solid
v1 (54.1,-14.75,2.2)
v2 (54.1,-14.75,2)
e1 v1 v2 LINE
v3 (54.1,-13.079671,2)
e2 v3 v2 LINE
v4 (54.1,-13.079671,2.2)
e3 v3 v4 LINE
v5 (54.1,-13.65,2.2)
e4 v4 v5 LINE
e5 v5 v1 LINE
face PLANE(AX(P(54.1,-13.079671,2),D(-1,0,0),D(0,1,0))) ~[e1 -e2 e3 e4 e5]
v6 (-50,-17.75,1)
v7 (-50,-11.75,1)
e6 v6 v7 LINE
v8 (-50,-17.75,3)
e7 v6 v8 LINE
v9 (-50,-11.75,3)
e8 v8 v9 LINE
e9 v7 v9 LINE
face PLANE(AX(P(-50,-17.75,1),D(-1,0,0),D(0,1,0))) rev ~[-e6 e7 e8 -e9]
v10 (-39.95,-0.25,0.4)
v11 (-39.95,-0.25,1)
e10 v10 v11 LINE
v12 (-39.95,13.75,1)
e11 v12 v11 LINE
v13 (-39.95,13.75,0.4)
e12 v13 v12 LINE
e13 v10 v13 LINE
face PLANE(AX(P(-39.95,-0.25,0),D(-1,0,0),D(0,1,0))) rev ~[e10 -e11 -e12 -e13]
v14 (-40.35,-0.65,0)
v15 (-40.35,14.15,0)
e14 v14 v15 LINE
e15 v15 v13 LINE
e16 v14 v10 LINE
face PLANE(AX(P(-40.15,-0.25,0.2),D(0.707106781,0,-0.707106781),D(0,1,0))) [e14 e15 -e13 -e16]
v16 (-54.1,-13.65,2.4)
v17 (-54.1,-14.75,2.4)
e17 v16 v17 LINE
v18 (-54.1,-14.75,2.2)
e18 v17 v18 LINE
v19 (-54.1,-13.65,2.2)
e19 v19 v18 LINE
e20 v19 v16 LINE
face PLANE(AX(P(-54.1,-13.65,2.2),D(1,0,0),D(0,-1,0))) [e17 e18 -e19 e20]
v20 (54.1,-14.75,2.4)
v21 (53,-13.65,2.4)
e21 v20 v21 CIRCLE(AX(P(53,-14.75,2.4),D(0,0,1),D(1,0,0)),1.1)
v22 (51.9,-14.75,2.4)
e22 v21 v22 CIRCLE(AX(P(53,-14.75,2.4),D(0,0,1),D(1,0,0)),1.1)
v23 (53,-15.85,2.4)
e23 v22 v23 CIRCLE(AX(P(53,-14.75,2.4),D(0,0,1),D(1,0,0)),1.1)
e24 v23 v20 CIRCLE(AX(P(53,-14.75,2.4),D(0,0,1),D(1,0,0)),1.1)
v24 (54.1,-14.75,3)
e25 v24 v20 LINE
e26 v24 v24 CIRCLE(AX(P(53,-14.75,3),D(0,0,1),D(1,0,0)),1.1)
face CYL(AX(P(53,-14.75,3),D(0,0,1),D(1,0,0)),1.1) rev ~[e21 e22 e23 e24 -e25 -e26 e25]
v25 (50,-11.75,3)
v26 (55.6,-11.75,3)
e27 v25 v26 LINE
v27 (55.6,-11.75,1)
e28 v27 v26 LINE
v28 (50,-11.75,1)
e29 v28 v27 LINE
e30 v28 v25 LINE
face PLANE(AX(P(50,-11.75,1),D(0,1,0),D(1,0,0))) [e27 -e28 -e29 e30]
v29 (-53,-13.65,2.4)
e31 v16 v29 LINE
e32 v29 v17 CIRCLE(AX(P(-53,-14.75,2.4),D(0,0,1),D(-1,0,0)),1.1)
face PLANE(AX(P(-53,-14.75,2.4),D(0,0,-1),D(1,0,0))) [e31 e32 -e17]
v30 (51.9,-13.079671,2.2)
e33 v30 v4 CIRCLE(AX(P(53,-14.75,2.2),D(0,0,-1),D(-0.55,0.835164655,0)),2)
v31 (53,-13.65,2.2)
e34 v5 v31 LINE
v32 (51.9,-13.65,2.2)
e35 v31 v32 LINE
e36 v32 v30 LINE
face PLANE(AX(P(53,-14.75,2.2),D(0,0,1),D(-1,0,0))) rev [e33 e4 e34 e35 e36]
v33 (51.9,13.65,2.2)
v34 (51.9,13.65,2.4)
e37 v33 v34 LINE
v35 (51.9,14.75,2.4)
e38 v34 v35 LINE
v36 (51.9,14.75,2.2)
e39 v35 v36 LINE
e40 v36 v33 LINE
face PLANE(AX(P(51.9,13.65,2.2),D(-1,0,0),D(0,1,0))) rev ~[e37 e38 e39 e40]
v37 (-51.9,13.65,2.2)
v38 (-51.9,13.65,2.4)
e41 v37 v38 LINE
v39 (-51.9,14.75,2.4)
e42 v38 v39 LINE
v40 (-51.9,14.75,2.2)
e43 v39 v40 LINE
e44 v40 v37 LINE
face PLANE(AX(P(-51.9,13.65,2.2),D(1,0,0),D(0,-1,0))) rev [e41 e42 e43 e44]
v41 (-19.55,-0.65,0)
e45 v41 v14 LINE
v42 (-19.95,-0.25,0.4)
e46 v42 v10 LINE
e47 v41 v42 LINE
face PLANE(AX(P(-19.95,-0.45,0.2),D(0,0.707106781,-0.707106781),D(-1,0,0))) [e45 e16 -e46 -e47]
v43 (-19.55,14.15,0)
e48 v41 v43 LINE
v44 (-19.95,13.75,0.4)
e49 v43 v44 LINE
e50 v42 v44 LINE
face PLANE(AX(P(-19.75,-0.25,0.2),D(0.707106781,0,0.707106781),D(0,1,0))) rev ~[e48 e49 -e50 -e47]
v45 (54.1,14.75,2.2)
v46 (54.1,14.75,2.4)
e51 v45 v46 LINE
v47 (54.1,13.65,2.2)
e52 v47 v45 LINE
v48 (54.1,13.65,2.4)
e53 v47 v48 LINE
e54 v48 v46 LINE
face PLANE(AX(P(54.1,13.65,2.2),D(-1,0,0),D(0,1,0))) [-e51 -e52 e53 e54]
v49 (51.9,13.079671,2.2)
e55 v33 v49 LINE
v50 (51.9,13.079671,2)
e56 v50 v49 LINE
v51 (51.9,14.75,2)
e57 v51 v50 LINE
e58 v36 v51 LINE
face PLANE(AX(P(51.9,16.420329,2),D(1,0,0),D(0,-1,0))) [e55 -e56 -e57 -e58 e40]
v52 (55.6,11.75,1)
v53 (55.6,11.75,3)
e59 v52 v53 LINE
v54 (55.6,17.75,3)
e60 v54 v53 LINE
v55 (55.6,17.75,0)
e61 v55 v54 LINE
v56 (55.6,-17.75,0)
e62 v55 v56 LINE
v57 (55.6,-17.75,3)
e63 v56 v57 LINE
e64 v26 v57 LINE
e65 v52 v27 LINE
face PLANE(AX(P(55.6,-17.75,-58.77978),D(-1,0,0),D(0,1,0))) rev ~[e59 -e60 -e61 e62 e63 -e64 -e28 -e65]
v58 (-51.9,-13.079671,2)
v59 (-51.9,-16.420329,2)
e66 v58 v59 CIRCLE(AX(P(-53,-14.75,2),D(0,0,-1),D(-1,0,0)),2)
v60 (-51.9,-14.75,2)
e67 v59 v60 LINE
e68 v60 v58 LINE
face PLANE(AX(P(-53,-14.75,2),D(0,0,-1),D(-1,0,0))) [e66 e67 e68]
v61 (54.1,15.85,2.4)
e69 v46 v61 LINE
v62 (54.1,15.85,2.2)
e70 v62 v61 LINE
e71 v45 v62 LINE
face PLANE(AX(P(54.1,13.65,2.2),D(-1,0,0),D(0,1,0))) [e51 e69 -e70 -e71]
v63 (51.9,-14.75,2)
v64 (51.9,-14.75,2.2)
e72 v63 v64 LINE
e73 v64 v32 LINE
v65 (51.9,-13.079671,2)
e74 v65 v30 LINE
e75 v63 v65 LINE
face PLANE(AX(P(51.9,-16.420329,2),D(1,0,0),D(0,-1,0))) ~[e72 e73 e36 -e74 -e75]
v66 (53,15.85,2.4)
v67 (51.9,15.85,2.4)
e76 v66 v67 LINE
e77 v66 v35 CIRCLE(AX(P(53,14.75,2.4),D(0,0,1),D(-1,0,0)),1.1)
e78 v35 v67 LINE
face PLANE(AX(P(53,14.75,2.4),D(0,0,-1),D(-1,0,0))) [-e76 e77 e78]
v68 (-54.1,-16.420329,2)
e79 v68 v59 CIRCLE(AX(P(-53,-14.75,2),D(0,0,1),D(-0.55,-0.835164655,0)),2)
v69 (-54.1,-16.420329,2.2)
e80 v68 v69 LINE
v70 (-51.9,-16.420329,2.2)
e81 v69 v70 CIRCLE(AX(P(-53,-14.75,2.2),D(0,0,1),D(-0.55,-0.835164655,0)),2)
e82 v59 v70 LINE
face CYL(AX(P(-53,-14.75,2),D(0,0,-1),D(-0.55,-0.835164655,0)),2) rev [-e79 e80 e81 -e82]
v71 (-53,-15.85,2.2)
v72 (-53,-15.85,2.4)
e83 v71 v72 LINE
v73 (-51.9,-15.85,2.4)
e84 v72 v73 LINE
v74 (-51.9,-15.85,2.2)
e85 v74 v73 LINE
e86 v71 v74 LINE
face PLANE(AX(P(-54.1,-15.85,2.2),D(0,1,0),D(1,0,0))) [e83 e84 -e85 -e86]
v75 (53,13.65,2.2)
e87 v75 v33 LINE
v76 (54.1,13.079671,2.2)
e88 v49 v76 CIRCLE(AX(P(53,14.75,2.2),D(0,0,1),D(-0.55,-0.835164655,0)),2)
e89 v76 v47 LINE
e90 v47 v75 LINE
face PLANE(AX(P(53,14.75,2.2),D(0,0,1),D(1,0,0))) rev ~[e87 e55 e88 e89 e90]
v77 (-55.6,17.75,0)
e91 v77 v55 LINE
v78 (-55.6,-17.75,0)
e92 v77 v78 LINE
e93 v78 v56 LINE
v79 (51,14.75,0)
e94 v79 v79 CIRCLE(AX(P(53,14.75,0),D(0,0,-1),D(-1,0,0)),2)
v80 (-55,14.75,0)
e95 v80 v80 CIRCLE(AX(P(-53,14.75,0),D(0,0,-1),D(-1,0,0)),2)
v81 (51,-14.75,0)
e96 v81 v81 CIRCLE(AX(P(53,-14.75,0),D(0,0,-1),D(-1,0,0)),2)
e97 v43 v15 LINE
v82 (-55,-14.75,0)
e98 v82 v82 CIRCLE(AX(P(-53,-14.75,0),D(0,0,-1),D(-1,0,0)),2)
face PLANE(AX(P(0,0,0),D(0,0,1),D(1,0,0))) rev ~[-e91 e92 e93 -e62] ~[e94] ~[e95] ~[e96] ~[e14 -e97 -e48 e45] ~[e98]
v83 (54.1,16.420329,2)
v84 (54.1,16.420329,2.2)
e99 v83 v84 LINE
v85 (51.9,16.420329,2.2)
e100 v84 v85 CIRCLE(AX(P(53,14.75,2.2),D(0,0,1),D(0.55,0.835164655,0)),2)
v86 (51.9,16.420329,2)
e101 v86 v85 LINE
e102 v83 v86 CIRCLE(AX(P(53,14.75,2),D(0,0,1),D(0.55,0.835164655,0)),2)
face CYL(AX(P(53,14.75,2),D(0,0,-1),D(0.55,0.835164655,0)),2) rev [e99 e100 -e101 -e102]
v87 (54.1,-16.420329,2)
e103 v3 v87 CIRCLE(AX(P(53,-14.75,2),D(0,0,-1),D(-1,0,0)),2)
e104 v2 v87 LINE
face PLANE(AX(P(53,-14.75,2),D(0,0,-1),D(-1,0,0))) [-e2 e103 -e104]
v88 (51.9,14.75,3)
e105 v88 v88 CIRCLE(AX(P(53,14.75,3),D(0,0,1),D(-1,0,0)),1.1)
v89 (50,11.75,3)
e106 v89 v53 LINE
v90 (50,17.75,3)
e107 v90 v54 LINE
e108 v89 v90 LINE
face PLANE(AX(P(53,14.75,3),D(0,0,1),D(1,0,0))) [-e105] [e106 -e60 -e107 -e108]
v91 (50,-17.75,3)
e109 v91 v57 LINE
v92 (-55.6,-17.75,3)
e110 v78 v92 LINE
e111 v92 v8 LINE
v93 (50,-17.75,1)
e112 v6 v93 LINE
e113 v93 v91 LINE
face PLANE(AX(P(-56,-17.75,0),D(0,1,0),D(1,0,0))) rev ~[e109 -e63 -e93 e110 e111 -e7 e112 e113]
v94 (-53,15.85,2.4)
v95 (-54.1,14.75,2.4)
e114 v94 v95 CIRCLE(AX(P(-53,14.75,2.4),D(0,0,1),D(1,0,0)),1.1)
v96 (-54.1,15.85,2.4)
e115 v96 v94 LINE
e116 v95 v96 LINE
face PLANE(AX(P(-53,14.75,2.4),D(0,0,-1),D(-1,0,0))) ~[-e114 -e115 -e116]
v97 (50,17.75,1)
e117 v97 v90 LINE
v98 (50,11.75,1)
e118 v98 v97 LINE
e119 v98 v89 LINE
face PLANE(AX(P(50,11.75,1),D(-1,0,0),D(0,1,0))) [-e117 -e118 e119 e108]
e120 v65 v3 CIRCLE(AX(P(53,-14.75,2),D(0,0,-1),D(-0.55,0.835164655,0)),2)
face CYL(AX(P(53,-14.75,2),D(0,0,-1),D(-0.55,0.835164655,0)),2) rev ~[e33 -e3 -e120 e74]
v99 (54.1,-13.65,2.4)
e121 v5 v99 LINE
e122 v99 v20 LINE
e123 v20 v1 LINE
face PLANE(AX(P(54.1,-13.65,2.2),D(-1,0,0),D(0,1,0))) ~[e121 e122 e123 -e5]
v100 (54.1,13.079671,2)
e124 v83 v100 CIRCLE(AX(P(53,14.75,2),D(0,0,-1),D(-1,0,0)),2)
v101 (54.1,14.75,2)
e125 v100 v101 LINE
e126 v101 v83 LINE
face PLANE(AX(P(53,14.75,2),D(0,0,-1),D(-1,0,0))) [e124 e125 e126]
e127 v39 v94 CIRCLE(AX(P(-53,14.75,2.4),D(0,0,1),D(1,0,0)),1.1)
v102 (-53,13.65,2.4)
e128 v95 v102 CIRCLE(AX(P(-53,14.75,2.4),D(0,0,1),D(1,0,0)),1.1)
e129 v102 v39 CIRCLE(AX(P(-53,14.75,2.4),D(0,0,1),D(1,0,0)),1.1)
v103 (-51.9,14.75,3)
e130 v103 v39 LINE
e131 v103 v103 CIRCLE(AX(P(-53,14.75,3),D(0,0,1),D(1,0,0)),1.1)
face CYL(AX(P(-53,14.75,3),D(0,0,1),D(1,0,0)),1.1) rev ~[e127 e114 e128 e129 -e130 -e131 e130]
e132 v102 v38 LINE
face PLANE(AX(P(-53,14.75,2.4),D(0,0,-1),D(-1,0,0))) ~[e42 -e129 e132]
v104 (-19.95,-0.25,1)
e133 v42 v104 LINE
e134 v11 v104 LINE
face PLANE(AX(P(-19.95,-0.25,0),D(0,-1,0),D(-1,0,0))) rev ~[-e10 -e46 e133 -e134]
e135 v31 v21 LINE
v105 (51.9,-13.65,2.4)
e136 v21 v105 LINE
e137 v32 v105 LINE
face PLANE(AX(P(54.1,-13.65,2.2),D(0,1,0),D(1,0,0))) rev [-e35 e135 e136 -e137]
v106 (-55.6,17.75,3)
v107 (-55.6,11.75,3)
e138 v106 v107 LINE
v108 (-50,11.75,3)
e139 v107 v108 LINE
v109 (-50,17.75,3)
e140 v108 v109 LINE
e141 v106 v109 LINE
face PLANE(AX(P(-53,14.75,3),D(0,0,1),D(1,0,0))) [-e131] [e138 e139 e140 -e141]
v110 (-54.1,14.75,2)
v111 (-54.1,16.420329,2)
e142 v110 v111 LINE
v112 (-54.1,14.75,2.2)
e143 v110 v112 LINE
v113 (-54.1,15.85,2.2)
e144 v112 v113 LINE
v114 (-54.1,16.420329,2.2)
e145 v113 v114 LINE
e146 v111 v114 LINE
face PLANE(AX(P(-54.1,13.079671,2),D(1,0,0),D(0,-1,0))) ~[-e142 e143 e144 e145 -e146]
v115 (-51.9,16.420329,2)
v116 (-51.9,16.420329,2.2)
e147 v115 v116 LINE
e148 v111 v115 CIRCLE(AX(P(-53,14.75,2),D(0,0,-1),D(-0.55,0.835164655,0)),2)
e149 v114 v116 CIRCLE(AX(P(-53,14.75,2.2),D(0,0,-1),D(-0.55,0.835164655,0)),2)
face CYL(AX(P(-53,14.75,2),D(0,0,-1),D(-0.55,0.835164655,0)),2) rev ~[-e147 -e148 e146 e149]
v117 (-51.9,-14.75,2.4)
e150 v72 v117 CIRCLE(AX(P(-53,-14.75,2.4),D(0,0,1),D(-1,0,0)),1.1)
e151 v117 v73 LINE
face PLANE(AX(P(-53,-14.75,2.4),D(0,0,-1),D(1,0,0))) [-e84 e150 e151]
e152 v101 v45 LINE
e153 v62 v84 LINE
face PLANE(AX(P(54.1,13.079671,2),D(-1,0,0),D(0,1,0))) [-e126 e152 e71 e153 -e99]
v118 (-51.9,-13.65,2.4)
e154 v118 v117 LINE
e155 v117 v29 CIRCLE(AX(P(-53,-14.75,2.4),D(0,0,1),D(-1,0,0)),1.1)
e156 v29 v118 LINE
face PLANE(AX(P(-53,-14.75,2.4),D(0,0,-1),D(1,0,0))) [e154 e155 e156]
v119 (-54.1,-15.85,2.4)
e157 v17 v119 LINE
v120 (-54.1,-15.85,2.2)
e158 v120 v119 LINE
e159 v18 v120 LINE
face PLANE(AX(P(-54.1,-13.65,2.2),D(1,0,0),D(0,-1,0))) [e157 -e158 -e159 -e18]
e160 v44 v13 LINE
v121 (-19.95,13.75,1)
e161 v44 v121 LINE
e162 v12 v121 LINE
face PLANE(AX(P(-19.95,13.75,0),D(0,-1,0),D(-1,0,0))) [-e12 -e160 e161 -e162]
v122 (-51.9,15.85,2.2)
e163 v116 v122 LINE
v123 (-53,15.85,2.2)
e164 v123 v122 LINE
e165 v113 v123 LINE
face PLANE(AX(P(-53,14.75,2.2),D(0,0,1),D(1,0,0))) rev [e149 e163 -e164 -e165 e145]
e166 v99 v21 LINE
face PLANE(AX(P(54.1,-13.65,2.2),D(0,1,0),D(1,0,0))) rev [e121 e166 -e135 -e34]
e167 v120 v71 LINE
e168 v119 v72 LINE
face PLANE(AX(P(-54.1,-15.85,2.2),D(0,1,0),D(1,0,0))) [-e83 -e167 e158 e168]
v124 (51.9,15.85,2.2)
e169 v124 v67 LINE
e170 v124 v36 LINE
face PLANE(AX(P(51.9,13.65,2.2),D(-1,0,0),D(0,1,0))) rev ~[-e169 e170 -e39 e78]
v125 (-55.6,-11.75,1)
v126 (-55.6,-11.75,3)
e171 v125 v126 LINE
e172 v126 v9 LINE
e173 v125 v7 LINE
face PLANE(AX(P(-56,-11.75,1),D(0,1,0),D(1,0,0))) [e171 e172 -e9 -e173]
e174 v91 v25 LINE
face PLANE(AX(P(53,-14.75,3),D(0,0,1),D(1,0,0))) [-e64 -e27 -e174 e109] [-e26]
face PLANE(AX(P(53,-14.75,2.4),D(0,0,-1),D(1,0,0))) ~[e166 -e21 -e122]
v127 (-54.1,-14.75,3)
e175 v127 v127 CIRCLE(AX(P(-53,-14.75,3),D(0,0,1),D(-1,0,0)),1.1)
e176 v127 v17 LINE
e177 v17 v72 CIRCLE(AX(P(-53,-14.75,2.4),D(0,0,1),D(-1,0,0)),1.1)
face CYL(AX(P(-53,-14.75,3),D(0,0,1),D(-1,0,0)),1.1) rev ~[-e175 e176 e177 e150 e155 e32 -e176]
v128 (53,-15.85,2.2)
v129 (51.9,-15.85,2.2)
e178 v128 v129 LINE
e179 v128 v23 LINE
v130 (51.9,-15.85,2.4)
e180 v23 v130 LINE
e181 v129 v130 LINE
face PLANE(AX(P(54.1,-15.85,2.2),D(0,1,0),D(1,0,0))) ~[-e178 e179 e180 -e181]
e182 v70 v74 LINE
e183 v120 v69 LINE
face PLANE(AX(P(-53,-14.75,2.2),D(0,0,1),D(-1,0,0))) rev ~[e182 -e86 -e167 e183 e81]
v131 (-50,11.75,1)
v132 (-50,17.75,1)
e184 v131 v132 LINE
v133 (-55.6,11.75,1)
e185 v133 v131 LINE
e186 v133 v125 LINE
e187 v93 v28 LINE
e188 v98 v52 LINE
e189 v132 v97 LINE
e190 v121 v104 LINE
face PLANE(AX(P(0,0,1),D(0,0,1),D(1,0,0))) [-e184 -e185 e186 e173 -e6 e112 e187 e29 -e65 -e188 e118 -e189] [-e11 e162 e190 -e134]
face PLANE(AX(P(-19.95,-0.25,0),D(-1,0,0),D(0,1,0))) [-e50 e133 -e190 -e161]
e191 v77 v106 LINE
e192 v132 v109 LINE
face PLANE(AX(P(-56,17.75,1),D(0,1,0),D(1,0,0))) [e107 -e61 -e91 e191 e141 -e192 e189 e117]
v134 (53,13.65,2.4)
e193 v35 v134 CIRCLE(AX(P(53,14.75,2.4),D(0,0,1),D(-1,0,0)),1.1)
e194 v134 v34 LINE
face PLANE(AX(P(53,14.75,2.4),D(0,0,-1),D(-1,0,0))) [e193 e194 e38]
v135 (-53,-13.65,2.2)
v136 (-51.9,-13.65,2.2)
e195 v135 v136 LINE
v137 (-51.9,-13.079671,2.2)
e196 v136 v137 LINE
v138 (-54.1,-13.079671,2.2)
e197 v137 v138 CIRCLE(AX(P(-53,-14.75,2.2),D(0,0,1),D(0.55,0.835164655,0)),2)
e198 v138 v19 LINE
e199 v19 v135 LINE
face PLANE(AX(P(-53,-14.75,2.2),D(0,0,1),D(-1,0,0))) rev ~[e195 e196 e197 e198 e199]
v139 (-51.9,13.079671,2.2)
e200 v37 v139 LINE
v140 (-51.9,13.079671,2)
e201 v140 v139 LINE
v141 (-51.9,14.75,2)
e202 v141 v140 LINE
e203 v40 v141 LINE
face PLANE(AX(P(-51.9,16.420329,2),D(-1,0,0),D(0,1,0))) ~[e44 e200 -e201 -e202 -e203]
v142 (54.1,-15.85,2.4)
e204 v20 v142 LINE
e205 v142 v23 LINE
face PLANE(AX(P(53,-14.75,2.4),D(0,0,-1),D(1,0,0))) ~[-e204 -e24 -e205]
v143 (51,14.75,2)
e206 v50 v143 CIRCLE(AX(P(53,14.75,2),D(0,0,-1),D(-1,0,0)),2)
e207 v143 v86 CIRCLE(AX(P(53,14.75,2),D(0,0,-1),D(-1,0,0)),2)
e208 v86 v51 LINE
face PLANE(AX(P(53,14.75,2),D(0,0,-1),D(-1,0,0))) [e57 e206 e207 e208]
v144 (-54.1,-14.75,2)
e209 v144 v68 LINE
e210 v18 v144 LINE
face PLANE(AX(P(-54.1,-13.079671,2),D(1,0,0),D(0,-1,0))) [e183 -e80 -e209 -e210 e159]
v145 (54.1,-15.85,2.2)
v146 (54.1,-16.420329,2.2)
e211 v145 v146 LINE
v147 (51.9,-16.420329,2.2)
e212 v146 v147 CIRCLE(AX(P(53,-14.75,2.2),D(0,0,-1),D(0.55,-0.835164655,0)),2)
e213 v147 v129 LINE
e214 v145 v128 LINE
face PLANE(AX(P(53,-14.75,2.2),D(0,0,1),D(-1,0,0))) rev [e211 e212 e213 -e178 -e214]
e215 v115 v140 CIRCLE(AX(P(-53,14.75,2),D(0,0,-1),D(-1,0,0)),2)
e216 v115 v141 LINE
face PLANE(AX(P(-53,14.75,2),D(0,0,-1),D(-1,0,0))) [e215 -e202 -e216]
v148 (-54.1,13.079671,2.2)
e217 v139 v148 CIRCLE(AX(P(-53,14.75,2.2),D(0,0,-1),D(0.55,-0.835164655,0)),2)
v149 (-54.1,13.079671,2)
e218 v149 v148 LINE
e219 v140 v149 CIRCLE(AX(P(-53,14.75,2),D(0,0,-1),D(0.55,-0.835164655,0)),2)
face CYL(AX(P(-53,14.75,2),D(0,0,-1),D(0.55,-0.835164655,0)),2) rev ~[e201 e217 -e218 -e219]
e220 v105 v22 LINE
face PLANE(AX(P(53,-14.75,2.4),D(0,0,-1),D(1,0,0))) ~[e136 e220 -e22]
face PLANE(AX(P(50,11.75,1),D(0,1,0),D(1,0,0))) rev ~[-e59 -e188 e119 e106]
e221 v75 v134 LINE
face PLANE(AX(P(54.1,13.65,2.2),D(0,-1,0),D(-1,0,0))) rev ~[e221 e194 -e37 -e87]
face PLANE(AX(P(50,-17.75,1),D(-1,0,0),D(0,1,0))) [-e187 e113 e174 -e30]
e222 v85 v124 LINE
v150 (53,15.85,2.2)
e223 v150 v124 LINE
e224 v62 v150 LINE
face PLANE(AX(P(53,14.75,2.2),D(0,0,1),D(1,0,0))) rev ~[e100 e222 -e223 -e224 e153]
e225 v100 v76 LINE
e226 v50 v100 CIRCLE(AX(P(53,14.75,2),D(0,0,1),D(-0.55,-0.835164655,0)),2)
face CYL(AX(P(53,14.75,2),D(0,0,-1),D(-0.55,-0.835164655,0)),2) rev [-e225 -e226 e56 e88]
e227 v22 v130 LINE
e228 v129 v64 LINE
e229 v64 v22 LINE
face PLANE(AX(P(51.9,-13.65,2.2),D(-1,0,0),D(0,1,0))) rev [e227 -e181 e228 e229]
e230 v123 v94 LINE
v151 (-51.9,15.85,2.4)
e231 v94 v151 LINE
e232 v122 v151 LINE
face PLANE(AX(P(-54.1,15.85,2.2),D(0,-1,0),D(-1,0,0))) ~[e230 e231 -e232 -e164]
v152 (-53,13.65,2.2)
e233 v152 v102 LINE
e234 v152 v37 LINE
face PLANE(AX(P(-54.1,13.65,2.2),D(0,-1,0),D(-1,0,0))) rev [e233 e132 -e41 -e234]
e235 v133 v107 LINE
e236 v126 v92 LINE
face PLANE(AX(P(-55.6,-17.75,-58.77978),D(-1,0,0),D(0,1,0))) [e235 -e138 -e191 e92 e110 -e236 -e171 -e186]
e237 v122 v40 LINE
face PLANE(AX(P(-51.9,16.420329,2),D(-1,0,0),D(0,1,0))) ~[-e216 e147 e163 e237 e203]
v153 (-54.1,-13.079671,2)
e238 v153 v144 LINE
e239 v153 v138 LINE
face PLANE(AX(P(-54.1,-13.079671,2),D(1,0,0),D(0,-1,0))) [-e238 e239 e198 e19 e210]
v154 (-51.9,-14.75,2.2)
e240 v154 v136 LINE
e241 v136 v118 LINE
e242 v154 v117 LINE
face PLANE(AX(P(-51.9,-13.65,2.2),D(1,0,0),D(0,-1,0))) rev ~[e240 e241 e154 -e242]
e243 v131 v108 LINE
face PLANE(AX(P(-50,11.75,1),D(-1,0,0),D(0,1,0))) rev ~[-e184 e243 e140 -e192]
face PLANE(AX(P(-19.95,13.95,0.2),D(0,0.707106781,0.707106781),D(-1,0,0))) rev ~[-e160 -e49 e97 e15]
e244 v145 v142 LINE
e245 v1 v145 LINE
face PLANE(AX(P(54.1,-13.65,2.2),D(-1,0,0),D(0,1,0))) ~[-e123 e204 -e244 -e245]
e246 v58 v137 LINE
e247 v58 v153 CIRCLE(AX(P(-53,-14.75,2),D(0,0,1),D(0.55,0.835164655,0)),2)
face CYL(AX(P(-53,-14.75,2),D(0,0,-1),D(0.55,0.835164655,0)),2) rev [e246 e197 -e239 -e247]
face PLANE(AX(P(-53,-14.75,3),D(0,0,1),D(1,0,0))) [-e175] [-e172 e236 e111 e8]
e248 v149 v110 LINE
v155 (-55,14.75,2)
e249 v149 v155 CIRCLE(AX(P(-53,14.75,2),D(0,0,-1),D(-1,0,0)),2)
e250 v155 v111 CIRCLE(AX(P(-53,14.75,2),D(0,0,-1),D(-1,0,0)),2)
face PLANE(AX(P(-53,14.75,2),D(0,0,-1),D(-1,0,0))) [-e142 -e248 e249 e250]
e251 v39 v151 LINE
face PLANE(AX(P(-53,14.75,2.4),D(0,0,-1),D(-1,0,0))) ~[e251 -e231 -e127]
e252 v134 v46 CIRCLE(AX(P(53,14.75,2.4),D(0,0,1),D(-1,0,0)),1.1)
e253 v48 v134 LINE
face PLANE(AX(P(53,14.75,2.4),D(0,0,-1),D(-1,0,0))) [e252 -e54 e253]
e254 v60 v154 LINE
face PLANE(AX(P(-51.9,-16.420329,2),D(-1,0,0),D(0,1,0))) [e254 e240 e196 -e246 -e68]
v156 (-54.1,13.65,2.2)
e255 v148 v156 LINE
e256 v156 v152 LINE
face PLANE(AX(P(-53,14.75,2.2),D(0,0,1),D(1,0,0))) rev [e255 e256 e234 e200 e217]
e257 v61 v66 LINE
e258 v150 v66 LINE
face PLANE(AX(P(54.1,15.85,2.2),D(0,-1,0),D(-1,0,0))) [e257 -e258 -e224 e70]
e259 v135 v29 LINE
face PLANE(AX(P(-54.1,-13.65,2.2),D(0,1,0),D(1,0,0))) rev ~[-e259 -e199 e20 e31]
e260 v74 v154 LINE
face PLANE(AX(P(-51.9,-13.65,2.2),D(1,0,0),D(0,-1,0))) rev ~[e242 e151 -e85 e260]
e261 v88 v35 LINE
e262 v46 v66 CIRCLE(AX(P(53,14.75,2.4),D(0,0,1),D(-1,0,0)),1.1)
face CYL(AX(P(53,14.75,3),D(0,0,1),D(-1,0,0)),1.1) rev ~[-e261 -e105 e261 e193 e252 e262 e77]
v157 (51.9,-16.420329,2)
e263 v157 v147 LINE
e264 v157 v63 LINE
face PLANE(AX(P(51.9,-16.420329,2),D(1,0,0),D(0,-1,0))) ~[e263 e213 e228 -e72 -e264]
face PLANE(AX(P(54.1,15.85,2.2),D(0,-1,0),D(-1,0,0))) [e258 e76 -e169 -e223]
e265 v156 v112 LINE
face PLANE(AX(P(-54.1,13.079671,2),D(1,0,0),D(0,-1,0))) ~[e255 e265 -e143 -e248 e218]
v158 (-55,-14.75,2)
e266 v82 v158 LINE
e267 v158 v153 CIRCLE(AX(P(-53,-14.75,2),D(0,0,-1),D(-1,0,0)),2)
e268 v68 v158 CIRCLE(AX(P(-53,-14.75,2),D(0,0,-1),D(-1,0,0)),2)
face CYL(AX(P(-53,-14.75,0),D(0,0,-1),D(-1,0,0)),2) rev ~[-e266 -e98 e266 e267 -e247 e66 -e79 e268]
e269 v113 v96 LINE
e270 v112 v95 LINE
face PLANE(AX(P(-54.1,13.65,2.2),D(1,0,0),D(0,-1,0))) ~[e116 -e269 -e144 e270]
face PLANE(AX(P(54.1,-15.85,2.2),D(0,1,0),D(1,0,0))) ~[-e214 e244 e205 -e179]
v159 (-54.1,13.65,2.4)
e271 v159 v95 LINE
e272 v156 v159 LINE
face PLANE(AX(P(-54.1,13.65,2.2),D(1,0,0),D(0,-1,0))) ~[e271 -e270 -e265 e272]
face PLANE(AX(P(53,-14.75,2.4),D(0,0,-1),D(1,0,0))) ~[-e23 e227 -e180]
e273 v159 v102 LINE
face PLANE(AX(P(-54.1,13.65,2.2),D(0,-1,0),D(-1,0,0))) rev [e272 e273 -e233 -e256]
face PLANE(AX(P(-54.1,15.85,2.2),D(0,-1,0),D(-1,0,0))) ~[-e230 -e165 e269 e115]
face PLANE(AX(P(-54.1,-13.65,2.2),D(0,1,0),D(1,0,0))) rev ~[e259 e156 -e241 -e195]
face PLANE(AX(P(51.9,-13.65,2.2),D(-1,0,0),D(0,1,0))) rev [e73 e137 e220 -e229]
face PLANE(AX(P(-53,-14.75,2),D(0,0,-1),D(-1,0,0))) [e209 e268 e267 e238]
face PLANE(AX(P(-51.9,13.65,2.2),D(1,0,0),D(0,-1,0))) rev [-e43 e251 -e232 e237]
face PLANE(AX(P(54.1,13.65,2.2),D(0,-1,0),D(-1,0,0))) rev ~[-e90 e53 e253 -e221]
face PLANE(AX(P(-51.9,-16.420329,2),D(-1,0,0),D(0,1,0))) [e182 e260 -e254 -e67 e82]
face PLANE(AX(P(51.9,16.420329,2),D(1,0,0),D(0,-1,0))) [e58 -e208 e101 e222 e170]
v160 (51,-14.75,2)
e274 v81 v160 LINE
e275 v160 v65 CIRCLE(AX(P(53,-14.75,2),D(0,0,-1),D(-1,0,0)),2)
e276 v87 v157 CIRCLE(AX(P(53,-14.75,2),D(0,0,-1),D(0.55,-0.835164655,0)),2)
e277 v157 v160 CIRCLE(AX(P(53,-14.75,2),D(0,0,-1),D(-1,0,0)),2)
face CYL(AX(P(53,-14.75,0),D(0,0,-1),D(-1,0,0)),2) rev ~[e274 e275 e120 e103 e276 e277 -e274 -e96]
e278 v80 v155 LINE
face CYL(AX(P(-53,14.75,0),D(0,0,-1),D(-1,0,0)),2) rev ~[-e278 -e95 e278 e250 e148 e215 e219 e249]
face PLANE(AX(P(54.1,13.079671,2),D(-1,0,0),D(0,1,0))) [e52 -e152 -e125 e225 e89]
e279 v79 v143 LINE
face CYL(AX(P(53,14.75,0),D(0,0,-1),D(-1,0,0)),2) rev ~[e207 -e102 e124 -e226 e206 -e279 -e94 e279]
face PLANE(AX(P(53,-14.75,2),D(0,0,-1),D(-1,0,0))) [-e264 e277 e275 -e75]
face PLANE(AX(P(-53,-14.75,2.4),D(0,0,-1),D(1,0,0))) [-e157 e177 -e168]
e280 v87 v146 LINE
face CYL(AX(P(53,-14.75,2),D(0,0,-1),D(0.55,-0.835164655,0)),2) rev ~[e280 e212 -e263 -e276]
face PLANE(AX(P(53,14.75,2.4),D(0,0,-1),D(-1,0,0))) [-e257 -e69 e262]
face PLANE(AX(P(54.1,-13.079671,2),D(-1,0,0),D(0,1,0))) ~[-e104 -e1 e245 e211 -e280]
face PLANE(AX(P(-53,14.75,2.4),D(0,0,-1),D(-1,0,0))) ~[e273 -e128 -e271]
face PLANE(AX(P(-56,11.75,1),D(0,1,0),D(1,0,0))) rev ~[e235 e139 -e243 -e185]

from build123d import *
from build123d.topology import SkipClean

# Parameters (mm, degrees)
SKETCH1_W               = 112
SKETCH1_H               = 35.5
BOSS_EXTRUDE1_DEPTH     = 1
SKETCH2_W               = 6
SKETCH2_H               = 6
BOSS_EXTRUDE2_DEPTH     = 2
SKETCH3_R               = 1.1
CUT_EXTRUDE1_DEPTH      = 59.822295943
SKETCH4_R               = 2
CUT_EXTRUDE2_DEPTH      = 2
SKETCH5_W               = 20
SKETCH5_H               = 14
CUT_EXTRUDE3_DEPTH      = 59.822295943
CHAMFER1_SIZE           = 0.4
CUT_EXTRUDE4_DEPTH      = 0.2
SKETCH7_W               = 2.2
SKETCH7_H               = 2.2
CUT_EXTRUDE5_DEPTH      = 0.2
MIRROR2_COPY_1_DEPTH    = 0.2
MIRROR2_COPY_2_SKETCH_W = 2.2
MIRROR2_COPY_2_SKETCH_H = 2.2
MIRROR2_COPY_2_DEPTH    = 0.2
CUT_EXTRUDE6_DEPTH      = 59.779779687
CUT_EXTRUDE6_DEPTH_BACK = 59.779779687
SKETCH8_W               = 0.4
SKETCH8_H               = 35.5


with BuildPart() as part:
    # Sketch1 → Boss-Extrude1 (new body)
    with BuildSketch(Plane.XY):
        Rectangle(SKETCH1_W, SKETCH1_H)
    extrude(amount=BOSS_EXTRUDE1_DEPTH)

    # Sketch2 → Boss-Extrude2 (add)
    with BuildSketch(Plane.XY.offset(1)):
        with Locations((-53, 14.75)):
            Rectangle(SKETCH2_W, SKETCH2_H)
        with Locations((-53, -14.75)):
            Rectangle(SKETCH2_W, SKETCH2_H)
        with Locations((53, -14.75)):
            Rectangle(SKETCH2_W, SKETCH2_H)
        with Locations((53, 14.75)):
            Rectangle(SKETCH2_W, SKETCH2_H)
    extrude(amount=BOSS_EXTRUDE2_DEPTH)

    # Sketch3 → Cut-Extrude1 (cut, through all)
    with BuildSketch(Plane.XY.offset(3)):
        with Locations((-53, 14.75)):
            Circle(SKETCH3_R)
        with Locations(Location((-53, -14.75, 0), (0, 0, 180))):
            Circle(SKETCH3_R)
        with Locations((53, -14.75)):
            Circle(SKETCH3_R)
        with Locations(Location((53, 14.75, 0), (0, 0, 180))):
            Circle(SKETCH3_R)
    extrude(amount=-CUT_EXTRUDE1_DEPTH, mode=Mode.SUBTRACT)

    # Sketch4 → Cut-Extrude2 (cut)
    with BuildSketch(Plane(origin=(0, 0, 0), x_dir=(-1, 0, 0), z_dir=(0, 0, -1))):
        with Locations((-53, 14.75)):
            Circle(SKETCH4_R)
        with Locations((-53, -14.75)):
            Circle(SKETCH4_R)
        with Locations((53, 14.75)):
            Circle(SKETCH4_R)
        with Locations((53, -14.75)):
            Circle(SKETCH4_R)
    extrude(amount=-CUT_EXTRUDE2_DEPTH, mode=Mode.SUBTRACT)

    # Sketch5 → Cut-Extrude3 (cut, through all)
    with BuildSketch(Plane(origin=(0, 0, 0), x_dir=(-1, 0, 0), z_dir=(0, 0, -1))):
        with Locations((29.95, 6.75)):
            Rectangle(SKETCH5_W, SKETCH5_H)
    extrude(amount=-CUT_EXTRUDE3_DEPTH, mode=Mode.SUBTRACT)

    # Chamfer1
    chamfer1_edges = [part.edges().sort_by_distance(p)[0] for p in [
        (-39.95, 6.75, 0),
        (-29.95, 13.75, 0),
        (-19.95, 6.75, 0),
        (-29.95, -0.25, 0),
    ]]
    chamfer(chamfer1_edges, length=CHAMFER1_SIZE)

    # Sketch6 → Cut-Extrude4 (cut)
    with SkipClean():  # the faces are left unmerged after this step: merging them gives an invalid solid
        with BuildSketch(Plane(origin=(0, 0, 2), x_dir=(-1, 0, 0), z_dir=(0, 0, -1))):
            with BuildLine():
                Line((-54.1, 13.079670691), (-54.1, 16.420329309))
                ThreePointArc((-54.1, 16.420329309), (-53, 16.75), (-51.9, 16.420329309))
                Line((-51.9, 16.420329309), (-51.9, 13.079670691))
                ThreePointArc((-51.9, 13.079670691), (-53, 12.75), (-54.1, 13.079670691))
            make_face()
        cut_extrude4 = extrude(amount=-CUT_EXTRUDE4_DEPTH, mode=Mode.SUBTRACT)

    # Sketch7 → Cut-Extrude5 (cut)
    with SkipClean():  # the faces are left unmerged after this step: merging them gives an invalid solid
        with BuildSketch(Plane(origin=(0, 0, 2.2), x_dir=(-1, 0, 0), z_dir=(0, 0, -1))):
            with Locations((-53, 14.75)):
                Rectangle(SKETCH7_W, SKETCH7_H)
        cut_extrude5 = extrude(amount=-CUT_EXTRUDE5_DEPTH, mode=Mode.SUBTRACT)

    # Mirror1: Cut-Extrude4, Cut-Extrude5 across plane
    with SkipClean():  # the faces are left unmerged after this step: merging them gives an invalid solid
        add(cut_extrude4.mirror(Plane(origin=(0, 0, 0), x_dir=(0, 0, 1), z_dir=(1, 0, 0))), mode=Mode.SUBTRACT)
        add(cut_extrude5.mirror(Plane(origin=(0, 0, 0), x_dir=(0, 0, 1), z_dir=(1, 0, 0))), mode=Mode.SUBTRACT)

    # Mirror2: Cut-Extrude4, Cut-Extrude5 across plane
    with SkipClean():  # the faces are left unmerged after this step: merging them gives an invalid solid
        add(cut_extrude4.mirror(Plane.ZX), mode=Mode.SUBTRACT)
        add(cut_extrude5.mirror(Plane.ZX), mode=Mode.SUBTRACT)

    # Mirror2 copy 1 sketch → Mirror2 copy 1 (cut)
    with SkipClean():  # the faces are left unmerged after this step: merging them gives an invalid solid
        with BuildSketch(Plane(origin=(0, 0, 2), x_dir=(1, 0, 0), z_dir=(0, 0, -1))):
            with BuildLine():
                Line((-54.1, 13.079670691), (-54.1, 16.420329309))
                ThreePointArc((-54.1, 16.420329309), (-53, 16.75), (-51.9, 16.420329309))
                Line((-51.9, 16.420329309), (-51.9, 13.079670691))
                ThreePointArc((-51.9, 13.079670691), (-53, 12.75), (-54.1, 13.079670691))
            make_face()
        extrude(amount=-MIRROR2_COPY_1_DEPTH, mode=Mode.SUBTRACT)

    # Mirror2 copy 2 sketch → Mirror2 copy 2 (cut)
    with SkipClean():  # the faces are left unmerged after this step: merging them gives an invalid solid
        with BuildSketch(Plane(origin=(0, 0, 2.2), x_dir=(1, 0, 0), z_dir=(0, 0, -1))):
            with Locations((-53, 14.75)):
                Rectangle(MIRROR2_COPY_2_SKETCH_W, MIRROR2_COPY_2_SKETCH_H)
        extrude(amount=-MIRROR2_COPY_2_DEPTH, mode=Mode.SUBTRACT)

    # Sketch8 → Cut-Extrude6 (cut, two sides: drawn at the far end of the back side and taken through both)
    with SkipClean():  # the faces are left unmerged after this step: merging them gives an invalid solid
        with BuildSketch(Plane.XY.offset(1).offset(-CUT_EXTRUDE6_DEPTH_BACK)):
            with Locations((-55.8, 0)):
                Rectangle(SKETCH8_W, SKETCH8_H)
            with Locations((55.8, 0)):
                Rectangle(SKETCH8_W, SKETCH8_H)
        extrude(amount=CUT_EXTRUDE6_DEPTH + CUT_EXTRUDE6_DEPTH_BACK, mode=Mode.SUBTRACT)


solid = part.part
